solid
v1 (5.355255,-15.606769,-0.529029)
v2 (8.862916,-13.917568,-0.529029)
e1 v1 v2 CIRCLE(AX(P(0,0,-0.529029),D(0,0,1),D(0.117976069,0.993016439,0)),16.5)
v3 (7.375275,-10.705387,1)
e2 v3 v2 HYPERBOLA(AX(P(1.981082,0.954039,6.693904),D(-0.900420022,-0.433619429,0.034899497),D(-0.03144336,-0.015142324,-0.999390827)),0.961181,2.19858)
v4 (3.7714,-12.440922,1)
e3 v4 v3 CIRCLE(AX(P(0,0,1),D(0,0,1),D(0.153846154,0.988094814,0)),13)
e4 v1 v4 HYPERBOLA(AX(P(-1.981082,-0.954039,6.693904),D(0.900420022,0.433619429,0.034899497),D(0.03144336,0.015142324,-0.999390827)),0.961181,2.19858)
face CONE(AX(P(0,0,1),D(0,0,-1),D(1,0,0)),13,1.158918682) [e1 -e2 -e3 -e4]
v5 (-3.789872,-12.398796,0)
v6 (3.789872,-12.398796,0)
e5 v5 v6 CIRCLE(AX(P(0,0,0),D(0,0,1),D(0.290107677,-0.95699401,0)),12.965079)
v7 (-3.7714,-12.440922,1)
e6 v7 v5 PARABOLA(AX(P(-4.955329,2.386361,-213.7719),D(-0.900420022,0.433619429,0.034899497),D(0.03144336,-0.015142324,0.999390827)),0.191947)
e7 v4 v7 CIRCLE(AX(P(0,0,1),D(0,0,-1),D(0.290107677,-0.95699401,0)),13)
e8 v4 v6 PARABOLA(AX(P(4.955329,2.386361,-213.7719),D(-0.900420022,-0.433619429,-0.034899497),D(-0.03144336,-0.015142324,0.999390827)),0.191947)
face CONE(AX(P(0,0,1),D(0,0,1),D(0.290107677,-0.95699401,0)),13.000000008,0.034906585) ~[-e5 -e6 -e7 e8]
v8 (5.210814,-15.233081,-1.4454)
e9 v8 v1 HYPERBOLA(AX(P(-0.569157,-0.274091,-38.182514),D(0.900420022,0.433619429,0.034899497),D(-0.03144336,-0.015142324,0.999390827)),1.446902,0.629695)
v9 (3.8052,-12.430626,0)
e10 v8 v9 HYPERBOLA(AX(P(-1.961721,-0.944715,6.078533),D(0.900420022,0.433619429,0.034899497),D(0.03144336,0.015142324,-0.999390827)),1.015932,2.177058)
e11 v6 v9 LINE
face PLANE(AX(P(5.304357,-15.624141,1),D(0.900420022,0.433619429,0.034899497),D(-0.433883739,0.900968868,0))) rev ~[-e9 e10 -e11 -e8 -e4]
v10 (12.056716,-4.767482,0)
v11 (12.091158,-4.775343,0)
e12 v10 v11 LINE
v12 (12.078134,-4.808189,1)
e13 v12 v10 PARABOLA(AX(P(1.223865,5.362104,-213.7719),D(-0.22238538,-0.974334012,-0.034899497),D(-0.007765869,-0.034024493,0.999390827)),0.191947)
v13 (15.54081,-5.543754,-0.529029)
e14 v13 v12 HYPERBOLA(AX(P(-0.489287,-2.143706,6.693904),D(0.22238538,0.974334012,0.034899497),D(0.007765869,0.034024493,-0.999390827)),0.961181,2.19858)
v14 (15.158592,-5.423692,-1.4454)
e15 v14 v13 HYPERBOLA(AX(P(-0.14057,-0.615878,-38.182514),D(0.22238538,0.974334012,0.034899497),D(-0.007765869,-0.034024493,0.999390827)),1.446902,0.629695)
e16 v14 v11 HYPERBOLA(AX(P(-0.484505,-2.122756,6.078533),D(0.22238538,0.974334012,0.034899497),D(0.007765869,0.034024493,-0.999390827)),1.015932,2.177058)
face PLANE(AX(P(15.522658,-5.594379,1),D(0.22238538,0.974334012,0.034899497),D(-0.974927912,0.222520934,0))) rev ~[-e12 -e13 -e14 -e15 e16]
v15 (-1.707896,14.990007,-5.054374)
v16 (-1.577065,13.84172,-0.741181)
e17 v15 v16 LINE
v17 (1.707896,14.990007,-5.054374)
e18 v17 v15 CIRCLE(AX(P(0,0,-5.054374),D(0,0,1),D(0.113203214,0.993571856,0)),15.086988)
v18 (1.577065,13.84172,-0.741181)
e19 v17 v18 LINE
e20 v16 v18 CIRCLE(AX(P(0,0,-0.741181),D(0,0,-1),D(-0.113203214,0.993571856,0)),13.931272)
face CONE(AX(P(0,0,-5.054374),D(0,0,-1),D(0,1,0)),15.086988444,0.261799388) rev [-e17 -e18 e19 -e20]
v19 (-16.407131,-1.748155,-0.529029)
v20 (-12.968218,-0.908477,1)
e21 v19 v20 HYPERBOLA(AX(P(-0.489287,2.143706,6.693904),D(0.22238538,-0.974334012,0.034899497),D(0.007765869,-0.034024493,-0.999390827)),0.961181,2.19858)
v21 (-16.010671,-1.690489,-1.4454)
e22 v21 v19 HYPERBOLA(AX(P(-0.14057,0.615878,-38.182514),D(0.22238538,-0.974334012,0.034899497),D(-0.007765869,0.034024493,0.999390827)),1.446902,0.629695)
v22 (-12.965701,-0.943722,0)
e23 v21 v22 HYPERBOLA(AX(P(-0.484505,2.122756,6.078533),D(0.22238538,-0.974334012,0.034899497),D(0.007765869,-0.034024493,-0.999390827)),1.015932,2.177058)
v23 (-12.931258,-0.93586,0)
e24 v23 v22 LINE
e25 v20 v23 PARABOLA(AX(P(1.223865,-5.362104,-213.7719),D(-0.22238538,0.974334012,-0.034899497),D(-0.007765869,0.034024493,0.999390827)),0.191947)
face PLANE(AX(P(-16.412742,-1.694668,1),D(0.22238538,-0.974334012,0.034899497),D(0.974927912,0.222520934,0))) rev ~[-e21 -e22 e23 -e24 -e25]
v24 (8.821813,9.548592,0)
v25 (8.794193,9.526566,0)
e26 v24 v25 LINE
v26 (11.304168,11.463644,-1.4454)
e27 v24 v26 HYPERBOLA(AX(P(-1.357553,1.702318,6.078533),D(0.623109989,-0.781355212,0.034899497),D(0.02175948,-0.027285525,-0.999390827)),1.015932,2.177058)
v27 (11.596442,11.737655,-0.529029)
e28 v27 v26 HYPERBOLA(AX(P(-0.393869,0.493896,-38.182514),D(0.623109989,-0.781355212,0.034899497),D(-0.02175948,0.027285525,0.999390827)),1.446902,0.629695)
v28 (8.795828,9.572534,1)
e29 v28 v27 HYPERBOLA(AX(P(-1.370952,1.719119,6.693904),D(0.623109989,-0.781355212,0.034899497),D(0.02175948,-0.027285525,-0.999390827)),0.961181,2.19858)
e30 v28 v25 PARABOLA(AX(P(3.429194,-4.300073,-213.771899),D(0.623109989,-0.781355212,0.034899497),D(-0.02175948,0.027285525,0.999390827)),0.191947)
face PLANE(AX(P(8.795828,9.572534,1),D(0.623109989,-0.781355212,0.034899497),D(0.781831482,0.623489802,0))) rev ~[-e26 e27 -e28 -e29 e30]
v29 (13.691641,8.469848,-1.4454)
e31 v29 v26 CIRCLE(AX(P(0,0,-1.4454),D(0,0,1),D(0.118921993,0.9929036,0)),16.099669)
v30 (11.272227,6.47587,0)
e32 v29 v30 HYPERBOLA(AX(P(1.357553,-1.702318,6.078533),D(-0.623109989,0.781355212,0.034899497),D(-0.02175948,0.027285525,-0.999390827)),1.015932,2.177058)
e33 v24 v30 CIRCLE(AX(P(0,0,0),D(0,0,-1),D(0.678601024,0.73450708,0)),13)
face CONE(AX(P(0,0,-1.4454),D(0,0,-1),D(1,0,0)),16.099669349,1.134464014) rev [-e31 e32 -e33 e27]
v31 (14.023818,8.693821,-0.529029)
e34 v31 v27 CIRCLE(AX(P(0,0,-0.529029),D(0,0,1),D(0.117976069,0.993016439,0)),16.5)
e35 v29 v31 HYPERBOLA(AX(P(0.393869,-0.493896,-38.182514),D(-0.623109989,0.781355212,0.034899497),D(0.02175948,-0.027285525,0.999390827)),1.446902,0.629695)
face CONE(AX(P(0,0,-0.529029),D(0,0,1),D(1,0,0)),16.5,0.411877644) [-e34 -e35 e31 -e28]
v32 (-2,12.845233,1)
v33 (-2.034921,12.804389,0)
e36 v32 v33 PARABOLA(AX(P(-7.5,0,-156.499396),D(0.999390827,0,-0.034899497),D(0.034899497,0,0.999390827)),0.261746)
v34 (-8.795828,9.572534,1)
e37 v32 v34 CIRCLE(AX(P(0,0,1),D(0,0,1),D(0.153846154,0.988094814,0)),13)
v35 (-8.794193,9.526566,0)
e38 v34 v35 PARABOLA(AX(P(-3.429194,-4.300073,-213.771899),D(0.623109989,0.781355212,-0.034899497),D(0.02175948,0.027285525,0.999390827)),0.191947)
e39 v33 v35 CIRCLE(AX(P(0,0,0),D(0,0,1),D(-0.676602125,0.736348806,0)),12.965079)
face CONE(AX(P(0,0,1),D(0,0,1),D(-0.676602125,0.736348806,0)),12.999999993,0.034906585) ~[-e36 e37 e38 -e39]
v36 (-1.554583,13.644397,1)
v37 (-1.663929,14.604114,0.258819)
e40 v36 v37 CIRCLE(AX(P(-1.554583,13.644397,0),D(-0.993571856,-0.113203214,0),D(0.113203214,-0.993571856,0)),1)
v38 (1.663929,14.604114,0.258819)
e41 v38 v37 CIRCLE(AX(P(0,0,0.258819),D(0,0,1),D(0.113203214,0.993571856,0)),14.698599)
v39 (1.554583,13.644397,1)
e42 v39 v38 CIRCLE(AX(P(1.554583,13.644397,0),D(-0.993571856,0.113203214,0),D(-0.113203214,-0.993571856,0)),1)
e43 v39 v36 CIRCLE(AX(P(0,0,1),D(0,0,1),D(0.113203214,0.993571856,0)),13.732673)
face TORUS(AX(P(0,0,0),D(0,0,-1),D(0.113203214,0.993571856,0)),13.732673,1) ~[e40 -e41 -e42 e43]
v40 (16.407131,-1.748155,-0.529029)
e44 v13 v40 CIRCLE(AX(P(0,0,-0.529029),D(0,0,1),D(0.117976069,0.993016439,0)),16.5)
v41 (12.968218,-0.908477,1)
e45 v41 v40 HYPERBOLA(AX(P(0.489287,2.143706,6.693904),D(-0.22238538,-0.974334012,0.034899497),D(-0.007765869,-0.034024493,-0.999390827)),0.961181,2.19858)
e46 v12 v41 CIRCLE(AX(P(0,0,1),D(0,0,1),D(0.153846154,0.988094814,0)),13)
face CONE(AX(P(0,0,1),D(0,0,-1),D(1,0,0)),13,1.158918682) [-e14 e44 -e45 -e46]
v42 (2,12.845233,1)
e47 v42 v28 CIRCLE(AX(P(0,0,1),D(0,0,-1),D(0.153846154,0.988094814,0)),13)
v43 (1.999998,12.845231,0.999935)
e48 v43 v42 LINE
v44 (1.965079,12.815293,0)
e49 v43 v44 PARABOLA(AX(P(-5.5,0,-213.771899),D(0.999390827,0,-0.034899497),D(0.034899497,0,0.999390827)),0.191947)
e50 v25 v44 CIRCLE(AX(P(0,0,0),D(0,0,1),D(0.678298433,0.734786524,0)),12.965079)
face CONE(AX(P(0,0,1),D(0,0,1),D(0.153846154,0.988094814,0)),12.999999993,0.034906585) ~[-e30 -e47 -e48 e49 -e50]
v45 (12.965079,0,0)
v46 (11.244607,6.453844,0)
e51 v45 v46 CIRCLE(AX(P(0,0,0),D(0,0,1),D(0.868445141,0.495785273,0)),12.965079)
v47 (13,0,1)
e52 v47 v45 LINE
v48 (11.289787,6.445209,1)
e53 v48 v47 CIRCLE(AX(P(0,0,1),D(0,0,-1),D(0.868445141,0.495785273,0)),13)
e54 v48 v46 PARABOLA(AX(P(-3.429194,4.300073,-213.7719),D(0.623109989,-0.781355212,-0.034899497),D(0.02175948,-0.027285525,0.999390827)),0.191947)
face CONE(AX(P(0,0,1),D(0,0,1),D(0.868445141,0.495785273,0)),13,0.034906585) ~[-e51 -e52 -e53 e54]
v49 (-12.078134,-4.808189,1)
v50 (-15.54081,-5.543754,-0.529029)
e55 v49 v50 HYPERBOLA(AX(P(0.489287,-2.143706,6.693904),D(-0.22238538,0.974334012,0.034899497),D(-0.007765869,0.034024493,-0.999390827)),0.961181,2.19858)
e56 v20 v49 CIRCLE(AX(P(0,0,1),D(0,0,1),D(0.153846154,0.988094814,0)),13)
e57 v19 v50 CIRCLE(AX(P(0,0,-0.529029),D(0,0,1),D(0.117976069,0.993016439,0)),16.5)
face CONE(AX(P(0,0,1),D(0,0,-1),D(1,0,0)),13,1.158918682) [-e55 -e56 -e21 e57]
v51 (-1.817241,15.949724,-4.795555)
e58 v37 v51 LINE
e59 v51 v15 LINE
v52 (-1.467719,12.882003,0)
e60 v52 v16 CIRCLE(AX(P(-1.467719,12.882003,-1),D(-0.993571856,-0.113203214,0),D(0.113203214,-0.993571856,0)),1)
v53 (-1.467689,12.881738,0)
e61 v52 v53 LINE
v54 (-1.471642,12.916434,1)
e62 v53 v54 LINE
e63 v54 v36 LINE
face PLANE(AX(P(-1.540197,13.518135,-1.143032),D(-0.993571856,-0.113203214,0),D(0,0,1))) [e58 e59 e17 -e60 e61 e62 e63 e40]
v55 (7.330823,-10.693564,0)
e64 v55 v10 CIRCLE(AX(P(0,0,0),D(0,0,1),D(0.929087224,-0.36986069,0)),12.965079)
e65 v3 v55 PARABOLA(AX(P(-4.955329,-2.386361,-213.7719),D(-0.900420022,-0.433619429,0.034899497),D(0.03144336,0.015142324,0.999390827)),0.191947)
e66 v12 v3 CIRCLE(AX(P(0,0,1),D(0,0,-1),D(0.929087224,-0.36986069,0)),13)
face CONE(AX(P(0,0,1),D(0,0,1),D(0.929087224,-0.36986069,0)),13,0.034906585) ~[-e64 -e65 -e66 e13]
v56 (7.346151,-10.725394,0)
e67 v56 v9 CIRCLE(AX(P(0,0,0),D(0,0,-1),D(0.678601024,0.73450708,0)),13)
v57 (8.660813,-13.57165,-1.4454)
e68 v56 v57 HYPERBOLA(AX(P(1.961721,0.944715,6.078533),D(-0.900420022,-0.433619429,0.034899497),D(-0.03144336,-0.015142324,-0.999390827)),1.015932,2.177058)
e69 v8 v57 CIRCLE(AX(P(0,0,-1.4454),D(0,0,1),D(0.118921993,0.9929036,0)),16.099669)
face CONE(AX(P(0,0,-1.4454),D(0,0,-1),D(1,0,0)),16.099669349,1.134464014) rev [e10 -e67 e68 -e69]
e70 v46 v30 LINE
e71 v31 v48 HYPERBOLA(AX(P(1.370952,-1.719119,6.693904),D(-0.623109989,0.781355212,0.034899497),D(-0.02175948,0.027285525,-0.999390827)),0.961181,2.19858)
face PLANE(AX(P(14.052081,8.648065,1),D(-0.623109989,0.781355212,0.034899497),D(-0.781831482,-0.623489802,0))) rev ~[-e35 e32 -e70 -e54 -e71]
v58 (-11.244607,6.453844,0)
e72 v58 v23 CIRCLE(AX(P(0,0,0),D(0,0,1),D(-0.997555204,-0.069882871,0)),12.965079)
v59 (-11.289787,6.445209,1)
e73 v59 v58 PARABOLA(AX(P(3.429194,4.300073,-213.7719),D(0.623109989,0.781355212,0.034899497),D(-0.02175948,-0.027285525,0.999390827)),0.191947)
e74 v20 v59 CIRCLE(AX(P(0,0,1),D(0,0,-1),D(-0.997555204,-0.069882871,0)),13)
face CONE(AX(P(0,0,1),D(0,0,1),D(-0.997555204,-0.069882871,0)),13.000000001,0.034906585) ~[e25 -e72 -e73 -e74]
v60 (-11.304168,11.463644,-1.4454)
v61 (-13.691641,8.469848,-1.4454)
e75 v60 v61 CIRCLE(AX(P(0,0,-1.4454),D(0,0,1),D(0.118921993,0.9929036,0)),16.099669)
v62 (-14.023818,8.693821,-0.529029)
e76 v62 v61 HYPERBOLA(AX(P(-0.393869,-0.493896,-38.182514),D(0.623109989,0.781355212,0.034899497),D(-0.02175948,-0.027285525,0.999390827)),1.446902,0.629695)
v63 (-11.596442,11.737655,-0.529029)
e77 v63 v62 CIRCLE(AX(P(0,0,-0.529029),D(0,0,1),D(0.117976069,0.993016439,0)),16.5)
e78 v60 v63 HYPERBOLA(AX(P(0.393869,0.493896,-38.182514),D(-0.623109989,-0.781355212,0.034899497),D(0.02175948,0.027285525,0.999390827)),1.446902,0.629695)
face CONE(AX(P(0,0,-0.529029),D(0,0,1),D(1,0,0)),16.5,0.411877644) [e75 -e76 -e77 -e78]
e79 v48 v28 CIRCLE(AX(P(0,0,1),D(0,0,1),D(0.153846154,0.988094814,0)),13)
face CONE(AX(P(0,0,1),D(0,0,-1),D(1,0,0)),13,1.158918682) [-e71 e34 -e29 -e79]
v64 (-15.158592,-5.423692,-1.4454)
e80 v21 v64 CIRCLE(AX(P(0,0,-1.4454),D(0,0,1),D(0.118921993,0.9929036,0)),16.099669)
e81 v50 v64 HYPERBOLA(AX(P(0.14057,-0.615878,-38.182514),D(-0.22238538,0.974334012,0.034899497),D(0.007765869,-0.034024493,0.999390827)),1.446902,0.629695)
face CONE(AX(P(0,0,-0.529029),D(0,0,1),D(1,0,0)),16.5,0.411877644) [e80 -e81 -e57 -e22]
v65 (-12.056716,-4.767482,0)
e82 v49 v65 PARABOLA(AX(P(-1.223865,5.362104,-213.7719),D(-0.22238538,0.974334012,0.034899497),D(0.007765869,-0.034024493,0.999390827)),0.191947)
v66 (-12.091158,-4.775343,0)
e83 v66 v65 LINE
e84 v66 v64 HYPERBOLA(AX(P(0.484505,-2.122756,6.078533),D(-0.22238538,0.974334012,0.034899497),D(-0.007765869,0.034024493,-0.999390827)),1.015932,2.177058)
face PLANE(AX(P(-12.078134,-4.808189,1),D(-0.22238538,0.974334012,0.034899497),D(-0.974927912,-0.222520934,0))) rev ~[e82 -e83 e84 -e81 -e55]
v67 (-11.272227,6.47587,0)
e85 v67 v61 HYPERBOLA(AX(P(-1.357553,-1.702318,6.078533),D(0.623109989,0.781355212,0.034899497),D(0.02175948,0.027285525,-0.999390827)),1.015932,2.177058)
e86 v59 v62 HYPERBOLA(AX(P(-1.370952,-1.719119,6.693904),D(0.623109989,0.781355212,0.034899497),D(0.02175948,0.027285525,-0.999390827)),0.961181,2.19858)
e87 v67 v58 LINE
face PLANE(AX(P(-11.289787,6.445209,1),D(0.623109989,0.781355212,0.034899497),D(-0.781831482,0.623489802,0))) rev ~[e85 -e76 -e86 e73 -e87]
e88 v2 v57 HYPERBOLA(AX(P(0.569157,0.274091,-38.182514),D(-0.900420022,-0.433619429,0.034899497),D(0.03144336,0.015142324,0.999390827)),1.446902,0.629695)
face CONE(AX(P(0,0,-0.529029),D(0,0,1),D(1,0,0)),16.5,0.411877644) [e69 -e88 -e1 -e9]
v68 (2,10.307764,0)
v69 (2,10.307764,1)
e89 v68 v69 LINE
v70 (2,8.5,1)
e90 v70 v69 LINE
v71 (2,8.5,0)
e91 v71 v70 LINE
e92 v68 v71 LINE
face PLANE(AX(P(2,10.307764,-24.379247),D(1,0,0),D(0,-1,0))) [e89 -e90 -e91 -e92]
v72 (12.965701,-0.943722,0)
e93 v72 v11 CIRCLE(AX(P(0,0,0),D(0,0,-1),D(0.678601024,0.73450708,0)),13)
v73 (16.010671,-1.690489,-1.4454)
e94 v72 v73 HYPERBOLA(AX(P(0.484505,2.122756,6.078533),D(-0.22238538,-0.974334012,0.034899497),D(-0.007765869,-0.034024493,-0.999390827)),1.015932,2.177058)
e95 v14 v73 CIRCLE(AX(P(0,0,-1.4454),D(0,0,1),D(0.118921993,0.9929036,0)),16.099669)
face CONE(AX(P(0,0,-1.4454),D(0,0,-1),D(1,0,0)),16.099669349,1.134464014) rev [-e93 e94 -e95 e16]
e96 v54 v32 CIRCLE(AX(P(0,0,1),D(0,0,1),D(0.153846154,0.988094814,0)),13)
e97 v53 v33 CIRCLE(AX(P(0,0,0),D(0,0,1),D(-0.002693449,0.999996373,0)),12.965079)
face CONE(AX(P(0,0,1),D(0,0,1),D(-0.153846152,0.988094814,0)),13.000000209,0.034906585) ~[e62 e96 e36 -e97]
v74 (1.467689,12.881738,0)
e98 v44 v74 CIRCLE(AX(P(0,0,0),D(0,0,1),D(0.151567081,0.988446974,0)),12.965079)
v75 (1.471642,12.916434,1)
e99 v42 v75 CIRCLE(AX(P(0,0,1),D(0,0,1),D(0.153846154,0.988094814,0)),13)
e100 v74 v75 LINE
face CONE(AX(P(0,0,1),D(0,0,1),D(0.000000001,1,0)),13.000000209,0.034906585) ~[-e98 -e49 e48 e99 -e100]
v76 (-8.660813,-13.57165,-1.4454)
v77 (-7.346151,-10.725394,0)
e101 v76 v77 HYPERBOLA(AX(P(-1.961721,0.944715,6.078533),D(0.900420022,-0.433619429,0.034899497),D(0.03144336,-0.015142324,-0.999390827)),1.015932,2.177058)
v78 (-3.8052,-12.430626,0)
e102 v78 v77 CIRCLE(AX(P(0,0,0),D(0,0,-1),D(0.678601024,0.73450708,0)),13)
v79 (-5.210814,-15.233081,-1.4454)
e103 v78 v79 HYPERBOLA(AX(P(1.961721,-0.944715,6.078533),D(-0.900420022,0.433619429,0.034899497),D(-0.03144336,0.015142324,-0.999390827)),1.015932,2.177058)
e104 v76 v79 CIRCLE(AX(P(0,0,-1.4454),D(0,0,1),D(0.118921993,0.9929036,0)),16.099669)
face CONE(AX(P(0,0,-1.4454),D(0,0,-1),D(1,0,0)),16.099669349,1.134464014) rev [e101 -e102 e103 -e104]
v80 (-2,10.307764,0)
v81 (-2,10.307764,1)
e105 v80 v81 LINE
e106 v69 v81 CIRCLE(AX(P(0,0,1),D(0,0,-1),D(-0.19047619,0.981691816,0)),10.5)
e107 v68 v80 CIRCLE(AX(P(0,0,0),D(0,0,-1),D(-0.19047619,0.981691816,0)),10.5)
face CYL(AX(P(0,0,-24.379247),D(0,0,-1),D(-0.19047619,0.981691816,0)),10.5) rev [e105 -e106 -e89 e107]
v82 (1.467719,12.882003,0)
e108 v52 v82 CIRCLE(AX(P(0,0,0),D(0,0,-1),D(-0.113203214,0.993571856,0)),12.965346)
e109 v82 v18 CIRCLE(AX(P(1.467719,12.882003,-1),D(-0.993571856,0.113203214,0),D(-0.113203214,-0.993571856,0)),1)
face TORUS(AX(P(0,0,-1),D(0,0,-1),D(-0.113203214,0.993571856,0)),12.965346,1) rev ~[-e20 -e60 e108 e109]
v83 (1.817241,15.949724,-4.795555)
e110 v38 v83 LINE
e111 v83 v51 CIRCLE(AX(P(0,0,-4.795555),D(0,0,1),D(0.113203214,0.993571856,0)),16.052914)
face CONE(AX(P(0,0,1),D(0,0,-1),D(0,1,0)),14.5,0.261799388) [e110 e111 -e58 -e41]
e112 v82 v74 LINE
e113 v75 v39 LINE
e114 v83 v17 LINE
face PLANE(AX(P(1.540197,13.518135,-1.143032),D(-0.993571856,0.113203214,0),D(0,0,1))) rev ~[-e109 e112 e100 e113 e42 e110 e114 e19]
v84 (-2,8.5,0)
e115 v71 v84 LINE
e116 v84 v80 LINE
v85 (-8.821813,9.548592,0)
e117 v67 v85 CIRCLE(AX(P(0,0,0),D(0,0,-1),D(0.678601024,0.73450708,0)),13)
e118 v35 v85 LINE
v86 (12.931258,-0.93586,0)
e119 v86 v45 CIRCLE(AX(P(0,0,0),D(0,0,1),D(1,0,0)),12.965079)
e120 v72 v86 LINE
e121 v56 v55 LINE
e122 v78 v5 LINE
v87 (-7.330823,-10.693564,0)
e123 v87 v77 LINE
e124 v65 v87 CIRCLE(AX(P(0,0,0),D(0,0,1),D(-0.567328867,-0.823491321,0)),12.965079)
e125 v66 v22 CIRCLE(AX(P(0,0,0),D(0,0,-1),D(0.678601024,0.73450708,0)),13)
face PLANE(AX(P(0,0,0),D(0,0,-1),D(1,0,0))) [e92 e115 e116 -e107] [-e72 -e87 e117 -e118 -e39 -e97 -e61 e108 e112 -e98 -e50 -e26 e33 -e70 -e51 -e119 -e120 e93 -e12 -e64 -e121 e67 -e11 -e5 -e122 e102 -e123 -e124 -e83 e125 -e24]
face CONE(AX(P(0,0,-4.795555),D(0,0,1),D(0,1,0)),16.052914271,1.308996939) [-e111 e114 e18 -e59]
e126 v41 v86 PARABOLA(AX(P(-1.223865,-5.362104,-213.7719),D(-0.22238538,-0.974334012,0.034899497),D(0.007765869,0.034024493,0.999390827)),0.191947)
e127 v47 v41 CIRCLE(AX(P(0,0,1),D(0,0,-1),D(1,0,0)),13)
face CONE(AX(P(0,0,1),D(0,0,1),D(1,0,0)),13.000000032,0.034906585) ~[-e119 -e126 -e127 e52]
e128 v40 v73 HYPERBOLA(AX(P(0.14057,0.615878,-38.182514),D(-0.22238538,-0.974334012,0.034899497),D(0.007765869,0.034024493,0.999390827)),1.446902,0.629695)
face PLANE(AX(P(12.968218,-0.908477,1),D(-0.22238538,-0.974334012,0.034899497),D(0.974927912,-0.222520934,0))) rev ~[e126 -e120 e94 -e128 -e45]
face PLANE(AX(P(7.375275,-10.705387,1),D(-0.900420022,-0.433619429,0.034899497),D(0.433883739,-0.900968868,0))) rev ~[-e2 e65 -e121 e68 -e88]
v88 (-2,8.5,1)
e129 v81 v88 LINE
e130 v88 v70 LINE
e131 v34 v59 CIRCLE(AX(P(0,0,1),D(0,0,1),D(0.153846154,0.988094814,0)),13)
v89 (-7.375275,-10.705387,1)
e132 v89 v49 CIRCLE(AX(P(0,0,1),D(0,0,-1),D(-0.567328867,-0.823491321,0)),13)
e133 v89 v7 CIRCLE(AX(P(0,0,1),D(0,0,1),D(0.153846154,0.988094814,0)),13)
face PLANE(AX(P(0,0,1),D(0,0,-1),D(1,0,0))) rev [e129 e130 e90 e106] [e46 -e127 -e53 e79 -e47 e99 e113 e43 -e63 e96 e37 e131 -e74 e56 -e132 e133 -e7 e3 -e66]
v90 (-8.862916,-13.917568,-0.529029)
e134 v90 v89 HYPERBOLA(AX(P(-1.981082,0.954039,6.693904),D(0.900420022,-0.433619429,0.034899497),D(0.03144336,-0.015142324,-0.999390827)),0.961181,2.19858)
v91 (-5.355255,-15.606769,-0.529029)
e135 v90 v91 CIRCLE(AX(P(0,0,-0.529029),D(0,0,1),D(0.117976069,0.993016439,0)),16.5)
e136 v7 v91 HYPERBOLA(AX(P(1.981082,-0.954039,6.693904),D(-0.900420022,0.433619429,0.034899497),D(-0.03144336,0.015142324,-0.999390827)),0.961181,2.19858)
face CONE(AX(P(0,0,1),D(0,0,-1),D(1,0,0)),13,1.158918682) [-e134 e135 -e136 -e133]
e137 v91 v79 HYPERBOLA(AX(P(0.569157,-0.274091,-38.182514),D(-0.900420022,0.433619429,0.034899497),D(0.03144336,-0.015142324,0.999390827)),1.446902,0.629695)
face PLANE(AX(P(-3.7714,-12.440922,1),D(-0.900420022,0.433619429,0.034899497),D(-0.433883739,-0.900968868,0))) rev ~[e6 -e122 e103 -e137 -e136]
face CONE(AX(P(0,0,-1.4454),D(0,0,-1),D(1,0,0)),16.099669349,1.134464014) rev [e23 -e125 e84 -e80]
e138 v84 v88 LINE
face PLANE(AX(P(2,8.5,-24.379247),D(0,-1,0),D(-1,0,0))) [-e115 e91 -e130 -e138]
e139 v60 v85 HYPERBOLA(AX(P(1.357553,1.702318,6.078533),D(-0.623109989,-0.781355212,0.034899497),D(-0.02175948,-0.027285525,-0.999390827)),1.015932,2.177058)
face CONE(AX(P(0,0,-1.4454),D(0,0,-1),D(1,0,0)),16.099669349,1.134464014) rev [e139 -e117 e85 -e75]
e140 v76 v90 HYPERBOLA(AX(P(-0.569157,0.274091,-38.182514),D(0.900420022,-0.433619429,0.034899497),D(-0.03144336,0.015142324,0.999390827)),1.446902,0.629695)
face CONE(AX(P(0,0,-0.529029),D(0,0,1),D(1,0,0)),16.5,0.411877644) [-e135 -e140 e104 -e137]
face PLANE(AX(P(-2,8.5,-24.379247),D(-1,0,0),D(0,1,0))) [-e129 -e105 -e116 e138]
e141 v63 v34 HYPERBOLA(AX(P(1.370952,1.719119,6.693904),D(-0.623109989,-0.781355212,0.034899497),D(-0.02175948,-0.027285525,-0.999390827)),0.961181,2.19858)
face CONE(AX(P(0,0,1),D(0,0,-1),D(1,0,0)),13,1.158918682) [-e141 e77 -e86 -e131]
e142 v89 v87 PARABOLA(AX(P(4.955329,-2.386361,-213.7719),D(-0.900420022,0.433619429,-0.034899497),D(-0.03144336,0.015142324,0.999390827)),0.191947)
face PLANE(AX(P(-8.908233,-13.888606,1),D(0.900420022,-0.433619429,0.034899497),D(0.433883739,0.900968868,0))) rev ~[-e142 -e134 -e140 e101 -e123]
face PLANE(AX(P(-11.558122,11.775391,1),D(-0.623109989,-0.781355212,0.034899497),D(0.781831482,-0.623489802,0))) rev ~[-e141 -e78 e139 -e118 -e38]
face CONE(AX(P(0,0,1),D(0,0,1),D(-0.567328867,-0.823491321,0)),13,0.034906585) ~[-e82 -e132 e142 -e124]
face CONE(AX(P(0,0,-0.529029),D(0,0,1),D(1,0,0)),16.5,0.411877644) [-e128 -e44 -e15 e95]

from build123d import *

# Parameters (mm, degrees)
CUT_EXTRUDE2_DEPTH           = 24.379246777
CUT_EXTRUDE2_DEPTH_BACK      = 24.379246777
CUT_EXTRUDE4_DEPTH           = 10
CUT_EXTRUDE4_DRAFT           = 2
CUT_EXTRUDE4_PROFILE_2_DEPTH = 10
CUT_EXTRUDE4_PROFILE_2_DRAFT = 2
CUT_EXTRUDE4_PROFILE_3_DEPTH = 10
CUT_EXTRUDE4_PROFILE_3_DRAFT = 2
CUT_EXTRUDE4_PROFILE_4_DEPTH = 10
CUT_EXTRUDE4_PROFILE_4_DRAFT = 2
CUT_EXTRUDE4_PROFILE_5_DEPTH = 10
CUT_EXTRUDE4_PROFILE_5_DRAFT = 2
CUT_EXTRUDE4_PROFILE_6_DEPTH = 10
CUT_EXTRUDE4_PROFILE_6_DRAFT = 2
CUT_EXTRUDE4_PROFILE_7_DEPTH = 10
CUT_EXTRUDE4_PROFILE_7_DRAFT = 2
CUT_EXTRUDE4_PROFILE_8_DEPTH = 10
CUT_EXTRUDE4_PROFILE_8_DRAFT = 2
CUT_EXTRUDE4_PROFILE_9_DEPTH = 10
CUT_EXTRUDE4_PROFILE_9_DRAFT = 2
REVOLVE3_ANGLE               = 13
FILLET1_R                    = 1


with BuildPart() as part:
    # Sketch1 → Revolve1 (revolve)
    with BuildSketch(Plane(origin=(0, 0, 0), x_dir=(0, 0, -1), z_dir=(1, 0, 0)), mode=Mode.PRIVATE) as revolve1_sk:
        Polygon((-1, 7.5), (-1, 13), (0.529028795, 16.5), (1.445399555, 16.099669349), (0, 13), (0, 7.5), align=None)
    revolve(revolve1_sk.sketch.rotate(Axis((0, 0, 1), (0, 0, -1)), 90), axis=Axis((0, 0, 1), (0, 0, -1)))

    # Sketch2 → Cut-Extrude2 (cut, two sides: drawn at the far end of the back side and taken through both)
    with BuildSketch(Plane.XY.offset(-CUT_EXTRUDE2_DEPTH_BACK)):
        with BuildLine():
            Line((-2, 8.5), (-2, 10.307764064))
            ThreePointArc((-2, 10.307764064), (0, -10.5), (2, 10.307764064))
            Line((2, 10.307764064), (2, 8.5))
            Line((2, 8.5), (-2, 8.5))
        make_face()
    extrude(amount=CUT_EXTRUDE2_DEPTH + CUT_EXTRUDE2_DEPTH_BACK, mode=Mode.SUBTRACT)


with BuildPart() as cut_extrude4_tool:
    # Sketch3 → Cut-Extrude4 (with draft: the straight prism first)
    with BuildSketch(Plane.XY.offset(1)):
        with BuildLine():
            ThreePointArc((11.558121734, 11.775390524), (7.159081695, 14.86598632), (2, 16.378339354))
            Line((2, 16.378339354), (2, 12.845232579))
            ThreePointArc((2, 12.845232579), (5.640488609, 11.712595283), (8.795827626, 9.57253448))
            Line((8.795827626, 9.57253448), (11.558121734, 11.775390524))
        make_face()
    extrude(amount=-CUT_EXTRUDE4_DEPTH)
    # Cut-Extrude4: the draft: its side faces are tilted about the plane it starts from
    cut_extrude4_sides = [cut_extrude4_tool.faces().sort_by_distance(p)[0] for p in [
        (10.17697468, 10.673962502, -4),
        (7.159081695, 14.86598632, -4),
        (2, 14.611785966, -4),
        (5.640488609, 11.712595283, -4),
    ]]
    draft(cut_extrude4_sides, Plane.XY.offset(1), CUT_EXTRUDE4_DRAFT)


with BuildPart() as part_1:
    add(part.part)

    # Cut-Extrude4: cut by cut_extrude4_tool
    add(cut_extrude4_tool.part, mode=Mode.SUBTRACT)


with BuildPart() as cut_extrude4_profile_2_tool:
    # Sketch3 → Cut-Extrude4 profile 2 (with draft: the straight prism first)
    with BuildSketch(Plane.XY.offset(1)):
        with BuildLine():
            ThreePointArc((2, 16.378339354), (1.001848456, 16.469556754), (0, 16.5))
            Line((0, 16.5), (0, 13))
            ThreePointArc((0, 13), (1.00298965, 12.961250393), (2, 12.845232579))
            Line((2, 12.845232579), (2, 16.378339354))
        make_face()
    extrude(amount=-CUT_EXTRUDE4_PROFILE_2_DEPTH)
    # Cut-Extrude4 profile 2: the draft: its side faces are tilted about the plane it starts from
    cut_extrude4_profile_2_sides = [cut_extrude4_profile_2_tool.faces().sort_by_distance(p)[0] for p in [
        (2, 14.611785966, -4),
        (1.001848456, 16.469556754, -4),
        (0, 14.75, -4),
        (1.00298965, 12.961250393, -4),
    ]]
    draft(cut_extrude4_profile_2_sides, Plane.XY.offset(1), CUT_EXTRUDE4_PROFILE_2_DRAFT)


with BuildPart() as part_2:
    add(part_1.part)

    # Cut-Extrude4 profile 2: cut by cut_extrude4_profile_2_tool
    add(cut_extrude4_profile_2_tool.part, mode=Mode.SUBTRACT)


with BuildPart() as cut_extrude4_profile_3_tool:
    # Sketch3 → Cut-Extrude4 profile 3 (with draft: the straight prism first)
    with BuildSketch(Plane.XY.offset(1)):
        with BuildLine():
            Line((0, 13), (0, 16.5))
            ThreePointArc((0, 16.5), (-1.001848456, 16.469556754), (-2, 16.378339354))
            Line((-2, 16.378339354), (-2, 12.845232579))
            ThreePointArc((-2, 12.845232579), (-1.00298965, 12.961250393), (0, 13))
        make_face()
    extrude(amount=-CUT_EXTRUDE4_PROFILE_3_DEPTH)
    # Cut-Extrude4 profile 3: the draft: its side faces are tilted about the plane it starts from
    cut_extrude4_profile_3_sides = [cut_extrude4_profile_3_tool.faces().sort_by_distance(p)[0] for p in [
        (-1.00298965, 12.961250393, -4),
        (0, 14.75, -4),
        (-1.001848456, 16.469556754, -4),
        (-2, 14.611785966, -4),
    ]]
    draft(cut_extrude4_profile_3_sides, Plane.XY.offset(1), CUT_EXTRUDE4_PROFILE_3_DRAFT)


with BuildPart() as part_3:
    add(part_2.part)

    # Cut-Extrude4 profile 3: cut by cut_extrude4_profile_3_tool
    add(cut_extrude4_profile_3_tool.part, mode=Mode.SUBTRACT)


with BuildPart() as cut_extrude4_profile_4_tool:
    # Sketch3 → Cut-Extrude4 profile 4 (with draft: the straight prism first)
    with BuildSketch(Plane.XY.offset(1)):
        with BuildLine():
            Line((-2, 12.845232579), (-2, 16.378339354))
            ThreePointArc((-2, 16.378339354), (-7.159081695, 14.86598632), (-11.558121734, 11.775390524))
            Line((-11.558121734, 11.775390524), (-8.795827626, 9.57253448))
            ThreePointArc((-8.795827626, 9.57253448), (-5.640488609, 11.712595283), (-2, 12.845232579))
        make_face()
    extrude(amount=-CUT_EXTRUDE4_PROFILE_4_DEPTH)
    # Cut-Extrude4 profile 4: the draft: its side faces are tilted about the plane it starts from
    cut_extrude4_profile_4_sides = [cut_extrude4_profile_4_tool.faces().sort_by_distance(p)[0] for p in [
        (-10.17697468, 10.673962502, -4),
        (-5.640488609, 11.712595283, -4),
        (-2, 14.611785966, -4),
        (-7.159081695, 14.86598632, -4),
    ]]
    draft(cut_extrude4_profile_4_sides, Plane.XY.offset(1), CUT_EXTRUDE4_PROFILE_4_DRAFT)


with BuildPart() as part_4:
    add(part_3.part)

    # Cut-Extrude4 profile 4: cut by cut_extrude4_profile_4_tool
    add(cut_extrude4_profile_4_tool.part, mode=Mode.SUBTRACT)


with BuildPart() as cut_extrude4_profile_5_tool:
    # Sketch3 → Cut-Extrude4 profile 5 (with draft: the straight prism first)
    with BuildSketch(Plane.XY.offset(1)):
        with BuildLine():
            ThreePointArc((8.908232855, -13.888606388), (12.900219461, -10.287581731), (15.522658324, -5.594379194))
            Line((15.522658324, -5.594379194), (12.078133911, -4.808188975))
            ThreePointArc((12.078133911, -4.808188975), (10.163809272, -8.105367424), (7.375275277, -10.705387176))
            Line((7.375275277, -10.705387176), (8.908232855, -13.888606388))
        make_face()
    extrude(amount=-CUT_EXTRUDE4_PROFILE_5_DEPTH)
    # Cut-Extrude4 profile 5: the draft: its side faces are tilted about the plane it starts from
    cut_extrude4_profile_5_sides = [cut_extrude4_profile_5_tool.faces().sort_by_distance(p)[0] for p in [
        (12.900219461, -10.287581731, -4),
        (13.800396118, -5.201284084, -4),
        (10.163809272, -8.105367424, -4),
        (8.141754066, -12.296996782, -4),
    ]]
    draft(cut_extrude4_profile_5_sides, Plane.XY.offset(1), CUT_EXTRUDE4_PROFILE_5_DRAFT)


with BuildPart() as part_5:
    add(part_4.part)

    # Cut-Extrude4 profile 5: cut by cut_extrude4_profile_5_tool
    add(cut_extrude4_profile_5_tool.part, mode=Mode.SUBTRACT)


with BuildPart() as cut_extrude4_profile_6_tool:
    # Sketch3 → Cut-Extrude4 profile 6 (with draft: the straight prism first)
    with BuildSketch(Plane.XY.offset(1)):
        with BuildLine():
            Line((-3.771399805, -12.440922133), (-5.304357384, -15.624141344))
            ThreePointArc((-5.304357384, -15.624141344), (0, -16.5), (5.304357384, -15.624141344))
            Line((5.304357384, -15.624141344), (3.771399805, -12.440922133))
            ThreePointArc((3.771399805, -12.440922133), (0, -13), (-3.771399805, -12.440922133))
        make_face()
    extrude(amount=-CUT_EXTRUDE4_PROFILE_6_DEPTH)
    # Cut-Extrude4 profile 6: the draft: its side faces are tilted about the plane it starts from
    cut_extrude4_profile_6_sides = [cut_extrude4_profile_6_tool.faces().sort_by_distance(p)[0] for p in [
        (0, -16.5, -4),
        (4.537878594, -14.032531738, -4),
        (0, -13, -4),
        (-4.537878594, -14.032531738, -4),
    ]]
    draft(cut_extrude4_profile_6_sides, Plane.XY.offset(1), CUT_EXTRUDE4_PROFILE_6_DRAFT)


with BuildPart() as part_6:
    add(part_5.part)

    # Cut-Extrude4 profile 6: cut by cut_extrude4_profile_6_tool
    add(cut_extrude4_profile_6_tool.part, mode=Mode.SUBTRACT)


with BuildPart() as cut_extrude4_profile_7_tool:
    # Sketch3 → Cut-Extrude4 profile 7 (with draft: the straight prism first)
    with BuildSketch(Plane.XY.offset(1)):
        with BuildLine():
            Line((-12.078133911, -4.808188975), (-15.522658324, -5.594379194))
            ThreePointArc((-15.522658324, -5.594379194), (-12.900219461, -10.287581731), (-8.908232855, -13.888606388))
            Line((-8.908232855, -13.888606388), (-7.375275277, -10.705387176))
            ThreePointArc((-7.375275277, -10.705387176), (-10.163809272, -8.105367424), (-12.078133911, -4.808188975))
        make_face()
    extrude(amount=-CUT_EXTRUDE4_PROFILE_7_DEPTH)
    # Cut-Extrude4 profile 7: the draft: its side faces are tilted about the plane it starts from
    cut_extrude4_profile_7_sides = [cut_extrude4_profile_7_tool.faces().sort_by_distance(p)[0] for p in [
        (-13.800396118, -5.201284084, -4),
        (-12.900219461, -10.287581731, -4),
        (-8.141754066, -12.296996782, -4),
        (-10.163809272, -8.105367424, -4),
    ]]
    draft(cut_extrude4_profile_7_sides, Plane.XY.offset(1), CUT_EXTRUDE4_PROFILE_7_DRAFT)


with BuildPart() as part_7:
    add(part_6.part)

    # Cut-Extrude4 profile 7: cut by cut_extrude4_profile_7_tool
    add(cut_extrude4_profile_7_tool.part, mode=Mode.SUBTRACT)


with BuildPart() as cut_extrude4_profile_8_tool:
    # Sketch3 → Cut-Extrude4 profile 8 (with draft: the straight prism first)
    with BuildSketch(Plane.XY.offset(1)):
        with BuildLine():
            ThreePointArc((16.5, 0), (15.876229646, 4.493921699), (14.052080941, 8.648064594))
            Line((14.052080941, 8.648064594), (11.289786833, 6.44520855))
            ThreePointArc((11.289786833, 6.44520855), (12.565174667, 3.33412441), (13, 0))
            ThreePointArc((13, 0), (12.992051982, -0.454516548), (12.968217647, -0.908477326))
            Line((12.968217647, -0.908477326), (16.412742059, -1.694667545))
            ThreePointArc((16.412742059, -1.694667545), (16.478171075, -0.848456251), (16.5, 0))
        make_face()
    extrude(amount=-CUT_EXTRUDE4_PROFILE_8_DEPTH)
    # Cut-Extrude4 profile 8: the draft: its side faces are tilted about the plane it starts from
    cut_extrude4_profile_8_sides = [cut_extrude4_profile_8_tool.faces().sort_by_distance(p)[0] for p in [
        (16.086310551, 3.67159541, -4),
        (12.674062858, 2.892772141, -4),
        (12.670933887, 7.546636572, -4),
        (14.690479853, -1.301572436, -4),
    ]]
    draft(cut_extrude4_profile_8_sides, Plane.XY.offset(1), CUT_EXTRUDE4_PROFILE_8_DRAFT)


with BuildPart() as part_8:
    add(part_7.part)

    # Cut-Extrude4 profile 8: cut by cut_extrude4_profile_8_tool
    add(cut_extrude4_profile_8_tool.part, mode=Mode.SUBTRACT)


with BuildPart() as cut_extrude4_profile_9_tool:
    # Sketch3 → Cut-Extrude4 profile 9 (with draft: the straight prism first)
    with BuildSketch(Plane.XY.offset(1)):
        with BuildLine():
            Line((-11.289786833, 6.44520855), (-14.052080941, 8.648064594))
            ThreePointArc((-14.052080941, 8.648064594), (-16.086310551, 3.67159541), (-16.412742059, -1.694667545))
            Line((-16.412742059, -1.694667545), (-12.968217647, -0.908477326))
            ThreePointArc((-12.968217647, -0.908477326), (-12.674062858, 2.892772141), (-11.289786833, 6.44520855))
        make_face()
    extrude(amount=-CUT_EXTRUDE4_PROFILE_9_DEPTH)
    # Cut-Extrude4 profile 9: the draft: its side faces are tilted about the plane it starts from
    cut_extrude4_profile_9_sides = [cut_extrude4_profile_9_tool.faces().sort_by_distance(p)[0] for p in [
        (-16.086310551, 3.67159541, -4),
        (-14.690479853, -1.301572436, -4),
        (-12.674062858, 2.892772141, -4),
        (-12.670933887, 7.546636572, -4),
    ]]
    draft(cut_extrude4_profile_9_sides, Plane.XY.offset(1), CUT_EXTRUDE4_PROFILE_9_DRAFT)


with BuildPart() as part_9:
    add(part_8.part)

    # Cut-Extrude4 profile 9: cut by cut_extrude4_profile_9_tool
    add(cut_extrude4_profile_9_tool.part, mode=Mode.SUBTRACT)

    # Sketch4 → Revolve3 (revolve, symmetric)
    with BuildSketch(Plane(origin=(0, 0, 0), x_dir=(0, 0, -1), z_dir=(1, 0, 0))) as revolve3_sk:
        Polygon((-1, 10), (-1, 14.5), (4.795554958, 16.052914271), (5.054374003, 15.086988444), (0, 13.732673012), (0, 10), align=None)
    revolve(axis=Axis((0, 0, 1), (0, 0, -1)), revolution_arc=REVOLVE3_ANGLE / 2)
    revolve(revolve3_sk.sketch, axis=Axis((0, 0, 1), (0, 0, 1)), revolution_arc=REVOLVE3_ANGLE / 2)

    # Fillet1
    fillet1_edges = [part_9.edges().sort_by_distance(p)[0] for p in [
        (0, 14.5, 1),
        (0, 13.732673012, 0),
    ]]
    fillet(fillet1_edges, radius=FILLET1_R)


solid = part_9.part
